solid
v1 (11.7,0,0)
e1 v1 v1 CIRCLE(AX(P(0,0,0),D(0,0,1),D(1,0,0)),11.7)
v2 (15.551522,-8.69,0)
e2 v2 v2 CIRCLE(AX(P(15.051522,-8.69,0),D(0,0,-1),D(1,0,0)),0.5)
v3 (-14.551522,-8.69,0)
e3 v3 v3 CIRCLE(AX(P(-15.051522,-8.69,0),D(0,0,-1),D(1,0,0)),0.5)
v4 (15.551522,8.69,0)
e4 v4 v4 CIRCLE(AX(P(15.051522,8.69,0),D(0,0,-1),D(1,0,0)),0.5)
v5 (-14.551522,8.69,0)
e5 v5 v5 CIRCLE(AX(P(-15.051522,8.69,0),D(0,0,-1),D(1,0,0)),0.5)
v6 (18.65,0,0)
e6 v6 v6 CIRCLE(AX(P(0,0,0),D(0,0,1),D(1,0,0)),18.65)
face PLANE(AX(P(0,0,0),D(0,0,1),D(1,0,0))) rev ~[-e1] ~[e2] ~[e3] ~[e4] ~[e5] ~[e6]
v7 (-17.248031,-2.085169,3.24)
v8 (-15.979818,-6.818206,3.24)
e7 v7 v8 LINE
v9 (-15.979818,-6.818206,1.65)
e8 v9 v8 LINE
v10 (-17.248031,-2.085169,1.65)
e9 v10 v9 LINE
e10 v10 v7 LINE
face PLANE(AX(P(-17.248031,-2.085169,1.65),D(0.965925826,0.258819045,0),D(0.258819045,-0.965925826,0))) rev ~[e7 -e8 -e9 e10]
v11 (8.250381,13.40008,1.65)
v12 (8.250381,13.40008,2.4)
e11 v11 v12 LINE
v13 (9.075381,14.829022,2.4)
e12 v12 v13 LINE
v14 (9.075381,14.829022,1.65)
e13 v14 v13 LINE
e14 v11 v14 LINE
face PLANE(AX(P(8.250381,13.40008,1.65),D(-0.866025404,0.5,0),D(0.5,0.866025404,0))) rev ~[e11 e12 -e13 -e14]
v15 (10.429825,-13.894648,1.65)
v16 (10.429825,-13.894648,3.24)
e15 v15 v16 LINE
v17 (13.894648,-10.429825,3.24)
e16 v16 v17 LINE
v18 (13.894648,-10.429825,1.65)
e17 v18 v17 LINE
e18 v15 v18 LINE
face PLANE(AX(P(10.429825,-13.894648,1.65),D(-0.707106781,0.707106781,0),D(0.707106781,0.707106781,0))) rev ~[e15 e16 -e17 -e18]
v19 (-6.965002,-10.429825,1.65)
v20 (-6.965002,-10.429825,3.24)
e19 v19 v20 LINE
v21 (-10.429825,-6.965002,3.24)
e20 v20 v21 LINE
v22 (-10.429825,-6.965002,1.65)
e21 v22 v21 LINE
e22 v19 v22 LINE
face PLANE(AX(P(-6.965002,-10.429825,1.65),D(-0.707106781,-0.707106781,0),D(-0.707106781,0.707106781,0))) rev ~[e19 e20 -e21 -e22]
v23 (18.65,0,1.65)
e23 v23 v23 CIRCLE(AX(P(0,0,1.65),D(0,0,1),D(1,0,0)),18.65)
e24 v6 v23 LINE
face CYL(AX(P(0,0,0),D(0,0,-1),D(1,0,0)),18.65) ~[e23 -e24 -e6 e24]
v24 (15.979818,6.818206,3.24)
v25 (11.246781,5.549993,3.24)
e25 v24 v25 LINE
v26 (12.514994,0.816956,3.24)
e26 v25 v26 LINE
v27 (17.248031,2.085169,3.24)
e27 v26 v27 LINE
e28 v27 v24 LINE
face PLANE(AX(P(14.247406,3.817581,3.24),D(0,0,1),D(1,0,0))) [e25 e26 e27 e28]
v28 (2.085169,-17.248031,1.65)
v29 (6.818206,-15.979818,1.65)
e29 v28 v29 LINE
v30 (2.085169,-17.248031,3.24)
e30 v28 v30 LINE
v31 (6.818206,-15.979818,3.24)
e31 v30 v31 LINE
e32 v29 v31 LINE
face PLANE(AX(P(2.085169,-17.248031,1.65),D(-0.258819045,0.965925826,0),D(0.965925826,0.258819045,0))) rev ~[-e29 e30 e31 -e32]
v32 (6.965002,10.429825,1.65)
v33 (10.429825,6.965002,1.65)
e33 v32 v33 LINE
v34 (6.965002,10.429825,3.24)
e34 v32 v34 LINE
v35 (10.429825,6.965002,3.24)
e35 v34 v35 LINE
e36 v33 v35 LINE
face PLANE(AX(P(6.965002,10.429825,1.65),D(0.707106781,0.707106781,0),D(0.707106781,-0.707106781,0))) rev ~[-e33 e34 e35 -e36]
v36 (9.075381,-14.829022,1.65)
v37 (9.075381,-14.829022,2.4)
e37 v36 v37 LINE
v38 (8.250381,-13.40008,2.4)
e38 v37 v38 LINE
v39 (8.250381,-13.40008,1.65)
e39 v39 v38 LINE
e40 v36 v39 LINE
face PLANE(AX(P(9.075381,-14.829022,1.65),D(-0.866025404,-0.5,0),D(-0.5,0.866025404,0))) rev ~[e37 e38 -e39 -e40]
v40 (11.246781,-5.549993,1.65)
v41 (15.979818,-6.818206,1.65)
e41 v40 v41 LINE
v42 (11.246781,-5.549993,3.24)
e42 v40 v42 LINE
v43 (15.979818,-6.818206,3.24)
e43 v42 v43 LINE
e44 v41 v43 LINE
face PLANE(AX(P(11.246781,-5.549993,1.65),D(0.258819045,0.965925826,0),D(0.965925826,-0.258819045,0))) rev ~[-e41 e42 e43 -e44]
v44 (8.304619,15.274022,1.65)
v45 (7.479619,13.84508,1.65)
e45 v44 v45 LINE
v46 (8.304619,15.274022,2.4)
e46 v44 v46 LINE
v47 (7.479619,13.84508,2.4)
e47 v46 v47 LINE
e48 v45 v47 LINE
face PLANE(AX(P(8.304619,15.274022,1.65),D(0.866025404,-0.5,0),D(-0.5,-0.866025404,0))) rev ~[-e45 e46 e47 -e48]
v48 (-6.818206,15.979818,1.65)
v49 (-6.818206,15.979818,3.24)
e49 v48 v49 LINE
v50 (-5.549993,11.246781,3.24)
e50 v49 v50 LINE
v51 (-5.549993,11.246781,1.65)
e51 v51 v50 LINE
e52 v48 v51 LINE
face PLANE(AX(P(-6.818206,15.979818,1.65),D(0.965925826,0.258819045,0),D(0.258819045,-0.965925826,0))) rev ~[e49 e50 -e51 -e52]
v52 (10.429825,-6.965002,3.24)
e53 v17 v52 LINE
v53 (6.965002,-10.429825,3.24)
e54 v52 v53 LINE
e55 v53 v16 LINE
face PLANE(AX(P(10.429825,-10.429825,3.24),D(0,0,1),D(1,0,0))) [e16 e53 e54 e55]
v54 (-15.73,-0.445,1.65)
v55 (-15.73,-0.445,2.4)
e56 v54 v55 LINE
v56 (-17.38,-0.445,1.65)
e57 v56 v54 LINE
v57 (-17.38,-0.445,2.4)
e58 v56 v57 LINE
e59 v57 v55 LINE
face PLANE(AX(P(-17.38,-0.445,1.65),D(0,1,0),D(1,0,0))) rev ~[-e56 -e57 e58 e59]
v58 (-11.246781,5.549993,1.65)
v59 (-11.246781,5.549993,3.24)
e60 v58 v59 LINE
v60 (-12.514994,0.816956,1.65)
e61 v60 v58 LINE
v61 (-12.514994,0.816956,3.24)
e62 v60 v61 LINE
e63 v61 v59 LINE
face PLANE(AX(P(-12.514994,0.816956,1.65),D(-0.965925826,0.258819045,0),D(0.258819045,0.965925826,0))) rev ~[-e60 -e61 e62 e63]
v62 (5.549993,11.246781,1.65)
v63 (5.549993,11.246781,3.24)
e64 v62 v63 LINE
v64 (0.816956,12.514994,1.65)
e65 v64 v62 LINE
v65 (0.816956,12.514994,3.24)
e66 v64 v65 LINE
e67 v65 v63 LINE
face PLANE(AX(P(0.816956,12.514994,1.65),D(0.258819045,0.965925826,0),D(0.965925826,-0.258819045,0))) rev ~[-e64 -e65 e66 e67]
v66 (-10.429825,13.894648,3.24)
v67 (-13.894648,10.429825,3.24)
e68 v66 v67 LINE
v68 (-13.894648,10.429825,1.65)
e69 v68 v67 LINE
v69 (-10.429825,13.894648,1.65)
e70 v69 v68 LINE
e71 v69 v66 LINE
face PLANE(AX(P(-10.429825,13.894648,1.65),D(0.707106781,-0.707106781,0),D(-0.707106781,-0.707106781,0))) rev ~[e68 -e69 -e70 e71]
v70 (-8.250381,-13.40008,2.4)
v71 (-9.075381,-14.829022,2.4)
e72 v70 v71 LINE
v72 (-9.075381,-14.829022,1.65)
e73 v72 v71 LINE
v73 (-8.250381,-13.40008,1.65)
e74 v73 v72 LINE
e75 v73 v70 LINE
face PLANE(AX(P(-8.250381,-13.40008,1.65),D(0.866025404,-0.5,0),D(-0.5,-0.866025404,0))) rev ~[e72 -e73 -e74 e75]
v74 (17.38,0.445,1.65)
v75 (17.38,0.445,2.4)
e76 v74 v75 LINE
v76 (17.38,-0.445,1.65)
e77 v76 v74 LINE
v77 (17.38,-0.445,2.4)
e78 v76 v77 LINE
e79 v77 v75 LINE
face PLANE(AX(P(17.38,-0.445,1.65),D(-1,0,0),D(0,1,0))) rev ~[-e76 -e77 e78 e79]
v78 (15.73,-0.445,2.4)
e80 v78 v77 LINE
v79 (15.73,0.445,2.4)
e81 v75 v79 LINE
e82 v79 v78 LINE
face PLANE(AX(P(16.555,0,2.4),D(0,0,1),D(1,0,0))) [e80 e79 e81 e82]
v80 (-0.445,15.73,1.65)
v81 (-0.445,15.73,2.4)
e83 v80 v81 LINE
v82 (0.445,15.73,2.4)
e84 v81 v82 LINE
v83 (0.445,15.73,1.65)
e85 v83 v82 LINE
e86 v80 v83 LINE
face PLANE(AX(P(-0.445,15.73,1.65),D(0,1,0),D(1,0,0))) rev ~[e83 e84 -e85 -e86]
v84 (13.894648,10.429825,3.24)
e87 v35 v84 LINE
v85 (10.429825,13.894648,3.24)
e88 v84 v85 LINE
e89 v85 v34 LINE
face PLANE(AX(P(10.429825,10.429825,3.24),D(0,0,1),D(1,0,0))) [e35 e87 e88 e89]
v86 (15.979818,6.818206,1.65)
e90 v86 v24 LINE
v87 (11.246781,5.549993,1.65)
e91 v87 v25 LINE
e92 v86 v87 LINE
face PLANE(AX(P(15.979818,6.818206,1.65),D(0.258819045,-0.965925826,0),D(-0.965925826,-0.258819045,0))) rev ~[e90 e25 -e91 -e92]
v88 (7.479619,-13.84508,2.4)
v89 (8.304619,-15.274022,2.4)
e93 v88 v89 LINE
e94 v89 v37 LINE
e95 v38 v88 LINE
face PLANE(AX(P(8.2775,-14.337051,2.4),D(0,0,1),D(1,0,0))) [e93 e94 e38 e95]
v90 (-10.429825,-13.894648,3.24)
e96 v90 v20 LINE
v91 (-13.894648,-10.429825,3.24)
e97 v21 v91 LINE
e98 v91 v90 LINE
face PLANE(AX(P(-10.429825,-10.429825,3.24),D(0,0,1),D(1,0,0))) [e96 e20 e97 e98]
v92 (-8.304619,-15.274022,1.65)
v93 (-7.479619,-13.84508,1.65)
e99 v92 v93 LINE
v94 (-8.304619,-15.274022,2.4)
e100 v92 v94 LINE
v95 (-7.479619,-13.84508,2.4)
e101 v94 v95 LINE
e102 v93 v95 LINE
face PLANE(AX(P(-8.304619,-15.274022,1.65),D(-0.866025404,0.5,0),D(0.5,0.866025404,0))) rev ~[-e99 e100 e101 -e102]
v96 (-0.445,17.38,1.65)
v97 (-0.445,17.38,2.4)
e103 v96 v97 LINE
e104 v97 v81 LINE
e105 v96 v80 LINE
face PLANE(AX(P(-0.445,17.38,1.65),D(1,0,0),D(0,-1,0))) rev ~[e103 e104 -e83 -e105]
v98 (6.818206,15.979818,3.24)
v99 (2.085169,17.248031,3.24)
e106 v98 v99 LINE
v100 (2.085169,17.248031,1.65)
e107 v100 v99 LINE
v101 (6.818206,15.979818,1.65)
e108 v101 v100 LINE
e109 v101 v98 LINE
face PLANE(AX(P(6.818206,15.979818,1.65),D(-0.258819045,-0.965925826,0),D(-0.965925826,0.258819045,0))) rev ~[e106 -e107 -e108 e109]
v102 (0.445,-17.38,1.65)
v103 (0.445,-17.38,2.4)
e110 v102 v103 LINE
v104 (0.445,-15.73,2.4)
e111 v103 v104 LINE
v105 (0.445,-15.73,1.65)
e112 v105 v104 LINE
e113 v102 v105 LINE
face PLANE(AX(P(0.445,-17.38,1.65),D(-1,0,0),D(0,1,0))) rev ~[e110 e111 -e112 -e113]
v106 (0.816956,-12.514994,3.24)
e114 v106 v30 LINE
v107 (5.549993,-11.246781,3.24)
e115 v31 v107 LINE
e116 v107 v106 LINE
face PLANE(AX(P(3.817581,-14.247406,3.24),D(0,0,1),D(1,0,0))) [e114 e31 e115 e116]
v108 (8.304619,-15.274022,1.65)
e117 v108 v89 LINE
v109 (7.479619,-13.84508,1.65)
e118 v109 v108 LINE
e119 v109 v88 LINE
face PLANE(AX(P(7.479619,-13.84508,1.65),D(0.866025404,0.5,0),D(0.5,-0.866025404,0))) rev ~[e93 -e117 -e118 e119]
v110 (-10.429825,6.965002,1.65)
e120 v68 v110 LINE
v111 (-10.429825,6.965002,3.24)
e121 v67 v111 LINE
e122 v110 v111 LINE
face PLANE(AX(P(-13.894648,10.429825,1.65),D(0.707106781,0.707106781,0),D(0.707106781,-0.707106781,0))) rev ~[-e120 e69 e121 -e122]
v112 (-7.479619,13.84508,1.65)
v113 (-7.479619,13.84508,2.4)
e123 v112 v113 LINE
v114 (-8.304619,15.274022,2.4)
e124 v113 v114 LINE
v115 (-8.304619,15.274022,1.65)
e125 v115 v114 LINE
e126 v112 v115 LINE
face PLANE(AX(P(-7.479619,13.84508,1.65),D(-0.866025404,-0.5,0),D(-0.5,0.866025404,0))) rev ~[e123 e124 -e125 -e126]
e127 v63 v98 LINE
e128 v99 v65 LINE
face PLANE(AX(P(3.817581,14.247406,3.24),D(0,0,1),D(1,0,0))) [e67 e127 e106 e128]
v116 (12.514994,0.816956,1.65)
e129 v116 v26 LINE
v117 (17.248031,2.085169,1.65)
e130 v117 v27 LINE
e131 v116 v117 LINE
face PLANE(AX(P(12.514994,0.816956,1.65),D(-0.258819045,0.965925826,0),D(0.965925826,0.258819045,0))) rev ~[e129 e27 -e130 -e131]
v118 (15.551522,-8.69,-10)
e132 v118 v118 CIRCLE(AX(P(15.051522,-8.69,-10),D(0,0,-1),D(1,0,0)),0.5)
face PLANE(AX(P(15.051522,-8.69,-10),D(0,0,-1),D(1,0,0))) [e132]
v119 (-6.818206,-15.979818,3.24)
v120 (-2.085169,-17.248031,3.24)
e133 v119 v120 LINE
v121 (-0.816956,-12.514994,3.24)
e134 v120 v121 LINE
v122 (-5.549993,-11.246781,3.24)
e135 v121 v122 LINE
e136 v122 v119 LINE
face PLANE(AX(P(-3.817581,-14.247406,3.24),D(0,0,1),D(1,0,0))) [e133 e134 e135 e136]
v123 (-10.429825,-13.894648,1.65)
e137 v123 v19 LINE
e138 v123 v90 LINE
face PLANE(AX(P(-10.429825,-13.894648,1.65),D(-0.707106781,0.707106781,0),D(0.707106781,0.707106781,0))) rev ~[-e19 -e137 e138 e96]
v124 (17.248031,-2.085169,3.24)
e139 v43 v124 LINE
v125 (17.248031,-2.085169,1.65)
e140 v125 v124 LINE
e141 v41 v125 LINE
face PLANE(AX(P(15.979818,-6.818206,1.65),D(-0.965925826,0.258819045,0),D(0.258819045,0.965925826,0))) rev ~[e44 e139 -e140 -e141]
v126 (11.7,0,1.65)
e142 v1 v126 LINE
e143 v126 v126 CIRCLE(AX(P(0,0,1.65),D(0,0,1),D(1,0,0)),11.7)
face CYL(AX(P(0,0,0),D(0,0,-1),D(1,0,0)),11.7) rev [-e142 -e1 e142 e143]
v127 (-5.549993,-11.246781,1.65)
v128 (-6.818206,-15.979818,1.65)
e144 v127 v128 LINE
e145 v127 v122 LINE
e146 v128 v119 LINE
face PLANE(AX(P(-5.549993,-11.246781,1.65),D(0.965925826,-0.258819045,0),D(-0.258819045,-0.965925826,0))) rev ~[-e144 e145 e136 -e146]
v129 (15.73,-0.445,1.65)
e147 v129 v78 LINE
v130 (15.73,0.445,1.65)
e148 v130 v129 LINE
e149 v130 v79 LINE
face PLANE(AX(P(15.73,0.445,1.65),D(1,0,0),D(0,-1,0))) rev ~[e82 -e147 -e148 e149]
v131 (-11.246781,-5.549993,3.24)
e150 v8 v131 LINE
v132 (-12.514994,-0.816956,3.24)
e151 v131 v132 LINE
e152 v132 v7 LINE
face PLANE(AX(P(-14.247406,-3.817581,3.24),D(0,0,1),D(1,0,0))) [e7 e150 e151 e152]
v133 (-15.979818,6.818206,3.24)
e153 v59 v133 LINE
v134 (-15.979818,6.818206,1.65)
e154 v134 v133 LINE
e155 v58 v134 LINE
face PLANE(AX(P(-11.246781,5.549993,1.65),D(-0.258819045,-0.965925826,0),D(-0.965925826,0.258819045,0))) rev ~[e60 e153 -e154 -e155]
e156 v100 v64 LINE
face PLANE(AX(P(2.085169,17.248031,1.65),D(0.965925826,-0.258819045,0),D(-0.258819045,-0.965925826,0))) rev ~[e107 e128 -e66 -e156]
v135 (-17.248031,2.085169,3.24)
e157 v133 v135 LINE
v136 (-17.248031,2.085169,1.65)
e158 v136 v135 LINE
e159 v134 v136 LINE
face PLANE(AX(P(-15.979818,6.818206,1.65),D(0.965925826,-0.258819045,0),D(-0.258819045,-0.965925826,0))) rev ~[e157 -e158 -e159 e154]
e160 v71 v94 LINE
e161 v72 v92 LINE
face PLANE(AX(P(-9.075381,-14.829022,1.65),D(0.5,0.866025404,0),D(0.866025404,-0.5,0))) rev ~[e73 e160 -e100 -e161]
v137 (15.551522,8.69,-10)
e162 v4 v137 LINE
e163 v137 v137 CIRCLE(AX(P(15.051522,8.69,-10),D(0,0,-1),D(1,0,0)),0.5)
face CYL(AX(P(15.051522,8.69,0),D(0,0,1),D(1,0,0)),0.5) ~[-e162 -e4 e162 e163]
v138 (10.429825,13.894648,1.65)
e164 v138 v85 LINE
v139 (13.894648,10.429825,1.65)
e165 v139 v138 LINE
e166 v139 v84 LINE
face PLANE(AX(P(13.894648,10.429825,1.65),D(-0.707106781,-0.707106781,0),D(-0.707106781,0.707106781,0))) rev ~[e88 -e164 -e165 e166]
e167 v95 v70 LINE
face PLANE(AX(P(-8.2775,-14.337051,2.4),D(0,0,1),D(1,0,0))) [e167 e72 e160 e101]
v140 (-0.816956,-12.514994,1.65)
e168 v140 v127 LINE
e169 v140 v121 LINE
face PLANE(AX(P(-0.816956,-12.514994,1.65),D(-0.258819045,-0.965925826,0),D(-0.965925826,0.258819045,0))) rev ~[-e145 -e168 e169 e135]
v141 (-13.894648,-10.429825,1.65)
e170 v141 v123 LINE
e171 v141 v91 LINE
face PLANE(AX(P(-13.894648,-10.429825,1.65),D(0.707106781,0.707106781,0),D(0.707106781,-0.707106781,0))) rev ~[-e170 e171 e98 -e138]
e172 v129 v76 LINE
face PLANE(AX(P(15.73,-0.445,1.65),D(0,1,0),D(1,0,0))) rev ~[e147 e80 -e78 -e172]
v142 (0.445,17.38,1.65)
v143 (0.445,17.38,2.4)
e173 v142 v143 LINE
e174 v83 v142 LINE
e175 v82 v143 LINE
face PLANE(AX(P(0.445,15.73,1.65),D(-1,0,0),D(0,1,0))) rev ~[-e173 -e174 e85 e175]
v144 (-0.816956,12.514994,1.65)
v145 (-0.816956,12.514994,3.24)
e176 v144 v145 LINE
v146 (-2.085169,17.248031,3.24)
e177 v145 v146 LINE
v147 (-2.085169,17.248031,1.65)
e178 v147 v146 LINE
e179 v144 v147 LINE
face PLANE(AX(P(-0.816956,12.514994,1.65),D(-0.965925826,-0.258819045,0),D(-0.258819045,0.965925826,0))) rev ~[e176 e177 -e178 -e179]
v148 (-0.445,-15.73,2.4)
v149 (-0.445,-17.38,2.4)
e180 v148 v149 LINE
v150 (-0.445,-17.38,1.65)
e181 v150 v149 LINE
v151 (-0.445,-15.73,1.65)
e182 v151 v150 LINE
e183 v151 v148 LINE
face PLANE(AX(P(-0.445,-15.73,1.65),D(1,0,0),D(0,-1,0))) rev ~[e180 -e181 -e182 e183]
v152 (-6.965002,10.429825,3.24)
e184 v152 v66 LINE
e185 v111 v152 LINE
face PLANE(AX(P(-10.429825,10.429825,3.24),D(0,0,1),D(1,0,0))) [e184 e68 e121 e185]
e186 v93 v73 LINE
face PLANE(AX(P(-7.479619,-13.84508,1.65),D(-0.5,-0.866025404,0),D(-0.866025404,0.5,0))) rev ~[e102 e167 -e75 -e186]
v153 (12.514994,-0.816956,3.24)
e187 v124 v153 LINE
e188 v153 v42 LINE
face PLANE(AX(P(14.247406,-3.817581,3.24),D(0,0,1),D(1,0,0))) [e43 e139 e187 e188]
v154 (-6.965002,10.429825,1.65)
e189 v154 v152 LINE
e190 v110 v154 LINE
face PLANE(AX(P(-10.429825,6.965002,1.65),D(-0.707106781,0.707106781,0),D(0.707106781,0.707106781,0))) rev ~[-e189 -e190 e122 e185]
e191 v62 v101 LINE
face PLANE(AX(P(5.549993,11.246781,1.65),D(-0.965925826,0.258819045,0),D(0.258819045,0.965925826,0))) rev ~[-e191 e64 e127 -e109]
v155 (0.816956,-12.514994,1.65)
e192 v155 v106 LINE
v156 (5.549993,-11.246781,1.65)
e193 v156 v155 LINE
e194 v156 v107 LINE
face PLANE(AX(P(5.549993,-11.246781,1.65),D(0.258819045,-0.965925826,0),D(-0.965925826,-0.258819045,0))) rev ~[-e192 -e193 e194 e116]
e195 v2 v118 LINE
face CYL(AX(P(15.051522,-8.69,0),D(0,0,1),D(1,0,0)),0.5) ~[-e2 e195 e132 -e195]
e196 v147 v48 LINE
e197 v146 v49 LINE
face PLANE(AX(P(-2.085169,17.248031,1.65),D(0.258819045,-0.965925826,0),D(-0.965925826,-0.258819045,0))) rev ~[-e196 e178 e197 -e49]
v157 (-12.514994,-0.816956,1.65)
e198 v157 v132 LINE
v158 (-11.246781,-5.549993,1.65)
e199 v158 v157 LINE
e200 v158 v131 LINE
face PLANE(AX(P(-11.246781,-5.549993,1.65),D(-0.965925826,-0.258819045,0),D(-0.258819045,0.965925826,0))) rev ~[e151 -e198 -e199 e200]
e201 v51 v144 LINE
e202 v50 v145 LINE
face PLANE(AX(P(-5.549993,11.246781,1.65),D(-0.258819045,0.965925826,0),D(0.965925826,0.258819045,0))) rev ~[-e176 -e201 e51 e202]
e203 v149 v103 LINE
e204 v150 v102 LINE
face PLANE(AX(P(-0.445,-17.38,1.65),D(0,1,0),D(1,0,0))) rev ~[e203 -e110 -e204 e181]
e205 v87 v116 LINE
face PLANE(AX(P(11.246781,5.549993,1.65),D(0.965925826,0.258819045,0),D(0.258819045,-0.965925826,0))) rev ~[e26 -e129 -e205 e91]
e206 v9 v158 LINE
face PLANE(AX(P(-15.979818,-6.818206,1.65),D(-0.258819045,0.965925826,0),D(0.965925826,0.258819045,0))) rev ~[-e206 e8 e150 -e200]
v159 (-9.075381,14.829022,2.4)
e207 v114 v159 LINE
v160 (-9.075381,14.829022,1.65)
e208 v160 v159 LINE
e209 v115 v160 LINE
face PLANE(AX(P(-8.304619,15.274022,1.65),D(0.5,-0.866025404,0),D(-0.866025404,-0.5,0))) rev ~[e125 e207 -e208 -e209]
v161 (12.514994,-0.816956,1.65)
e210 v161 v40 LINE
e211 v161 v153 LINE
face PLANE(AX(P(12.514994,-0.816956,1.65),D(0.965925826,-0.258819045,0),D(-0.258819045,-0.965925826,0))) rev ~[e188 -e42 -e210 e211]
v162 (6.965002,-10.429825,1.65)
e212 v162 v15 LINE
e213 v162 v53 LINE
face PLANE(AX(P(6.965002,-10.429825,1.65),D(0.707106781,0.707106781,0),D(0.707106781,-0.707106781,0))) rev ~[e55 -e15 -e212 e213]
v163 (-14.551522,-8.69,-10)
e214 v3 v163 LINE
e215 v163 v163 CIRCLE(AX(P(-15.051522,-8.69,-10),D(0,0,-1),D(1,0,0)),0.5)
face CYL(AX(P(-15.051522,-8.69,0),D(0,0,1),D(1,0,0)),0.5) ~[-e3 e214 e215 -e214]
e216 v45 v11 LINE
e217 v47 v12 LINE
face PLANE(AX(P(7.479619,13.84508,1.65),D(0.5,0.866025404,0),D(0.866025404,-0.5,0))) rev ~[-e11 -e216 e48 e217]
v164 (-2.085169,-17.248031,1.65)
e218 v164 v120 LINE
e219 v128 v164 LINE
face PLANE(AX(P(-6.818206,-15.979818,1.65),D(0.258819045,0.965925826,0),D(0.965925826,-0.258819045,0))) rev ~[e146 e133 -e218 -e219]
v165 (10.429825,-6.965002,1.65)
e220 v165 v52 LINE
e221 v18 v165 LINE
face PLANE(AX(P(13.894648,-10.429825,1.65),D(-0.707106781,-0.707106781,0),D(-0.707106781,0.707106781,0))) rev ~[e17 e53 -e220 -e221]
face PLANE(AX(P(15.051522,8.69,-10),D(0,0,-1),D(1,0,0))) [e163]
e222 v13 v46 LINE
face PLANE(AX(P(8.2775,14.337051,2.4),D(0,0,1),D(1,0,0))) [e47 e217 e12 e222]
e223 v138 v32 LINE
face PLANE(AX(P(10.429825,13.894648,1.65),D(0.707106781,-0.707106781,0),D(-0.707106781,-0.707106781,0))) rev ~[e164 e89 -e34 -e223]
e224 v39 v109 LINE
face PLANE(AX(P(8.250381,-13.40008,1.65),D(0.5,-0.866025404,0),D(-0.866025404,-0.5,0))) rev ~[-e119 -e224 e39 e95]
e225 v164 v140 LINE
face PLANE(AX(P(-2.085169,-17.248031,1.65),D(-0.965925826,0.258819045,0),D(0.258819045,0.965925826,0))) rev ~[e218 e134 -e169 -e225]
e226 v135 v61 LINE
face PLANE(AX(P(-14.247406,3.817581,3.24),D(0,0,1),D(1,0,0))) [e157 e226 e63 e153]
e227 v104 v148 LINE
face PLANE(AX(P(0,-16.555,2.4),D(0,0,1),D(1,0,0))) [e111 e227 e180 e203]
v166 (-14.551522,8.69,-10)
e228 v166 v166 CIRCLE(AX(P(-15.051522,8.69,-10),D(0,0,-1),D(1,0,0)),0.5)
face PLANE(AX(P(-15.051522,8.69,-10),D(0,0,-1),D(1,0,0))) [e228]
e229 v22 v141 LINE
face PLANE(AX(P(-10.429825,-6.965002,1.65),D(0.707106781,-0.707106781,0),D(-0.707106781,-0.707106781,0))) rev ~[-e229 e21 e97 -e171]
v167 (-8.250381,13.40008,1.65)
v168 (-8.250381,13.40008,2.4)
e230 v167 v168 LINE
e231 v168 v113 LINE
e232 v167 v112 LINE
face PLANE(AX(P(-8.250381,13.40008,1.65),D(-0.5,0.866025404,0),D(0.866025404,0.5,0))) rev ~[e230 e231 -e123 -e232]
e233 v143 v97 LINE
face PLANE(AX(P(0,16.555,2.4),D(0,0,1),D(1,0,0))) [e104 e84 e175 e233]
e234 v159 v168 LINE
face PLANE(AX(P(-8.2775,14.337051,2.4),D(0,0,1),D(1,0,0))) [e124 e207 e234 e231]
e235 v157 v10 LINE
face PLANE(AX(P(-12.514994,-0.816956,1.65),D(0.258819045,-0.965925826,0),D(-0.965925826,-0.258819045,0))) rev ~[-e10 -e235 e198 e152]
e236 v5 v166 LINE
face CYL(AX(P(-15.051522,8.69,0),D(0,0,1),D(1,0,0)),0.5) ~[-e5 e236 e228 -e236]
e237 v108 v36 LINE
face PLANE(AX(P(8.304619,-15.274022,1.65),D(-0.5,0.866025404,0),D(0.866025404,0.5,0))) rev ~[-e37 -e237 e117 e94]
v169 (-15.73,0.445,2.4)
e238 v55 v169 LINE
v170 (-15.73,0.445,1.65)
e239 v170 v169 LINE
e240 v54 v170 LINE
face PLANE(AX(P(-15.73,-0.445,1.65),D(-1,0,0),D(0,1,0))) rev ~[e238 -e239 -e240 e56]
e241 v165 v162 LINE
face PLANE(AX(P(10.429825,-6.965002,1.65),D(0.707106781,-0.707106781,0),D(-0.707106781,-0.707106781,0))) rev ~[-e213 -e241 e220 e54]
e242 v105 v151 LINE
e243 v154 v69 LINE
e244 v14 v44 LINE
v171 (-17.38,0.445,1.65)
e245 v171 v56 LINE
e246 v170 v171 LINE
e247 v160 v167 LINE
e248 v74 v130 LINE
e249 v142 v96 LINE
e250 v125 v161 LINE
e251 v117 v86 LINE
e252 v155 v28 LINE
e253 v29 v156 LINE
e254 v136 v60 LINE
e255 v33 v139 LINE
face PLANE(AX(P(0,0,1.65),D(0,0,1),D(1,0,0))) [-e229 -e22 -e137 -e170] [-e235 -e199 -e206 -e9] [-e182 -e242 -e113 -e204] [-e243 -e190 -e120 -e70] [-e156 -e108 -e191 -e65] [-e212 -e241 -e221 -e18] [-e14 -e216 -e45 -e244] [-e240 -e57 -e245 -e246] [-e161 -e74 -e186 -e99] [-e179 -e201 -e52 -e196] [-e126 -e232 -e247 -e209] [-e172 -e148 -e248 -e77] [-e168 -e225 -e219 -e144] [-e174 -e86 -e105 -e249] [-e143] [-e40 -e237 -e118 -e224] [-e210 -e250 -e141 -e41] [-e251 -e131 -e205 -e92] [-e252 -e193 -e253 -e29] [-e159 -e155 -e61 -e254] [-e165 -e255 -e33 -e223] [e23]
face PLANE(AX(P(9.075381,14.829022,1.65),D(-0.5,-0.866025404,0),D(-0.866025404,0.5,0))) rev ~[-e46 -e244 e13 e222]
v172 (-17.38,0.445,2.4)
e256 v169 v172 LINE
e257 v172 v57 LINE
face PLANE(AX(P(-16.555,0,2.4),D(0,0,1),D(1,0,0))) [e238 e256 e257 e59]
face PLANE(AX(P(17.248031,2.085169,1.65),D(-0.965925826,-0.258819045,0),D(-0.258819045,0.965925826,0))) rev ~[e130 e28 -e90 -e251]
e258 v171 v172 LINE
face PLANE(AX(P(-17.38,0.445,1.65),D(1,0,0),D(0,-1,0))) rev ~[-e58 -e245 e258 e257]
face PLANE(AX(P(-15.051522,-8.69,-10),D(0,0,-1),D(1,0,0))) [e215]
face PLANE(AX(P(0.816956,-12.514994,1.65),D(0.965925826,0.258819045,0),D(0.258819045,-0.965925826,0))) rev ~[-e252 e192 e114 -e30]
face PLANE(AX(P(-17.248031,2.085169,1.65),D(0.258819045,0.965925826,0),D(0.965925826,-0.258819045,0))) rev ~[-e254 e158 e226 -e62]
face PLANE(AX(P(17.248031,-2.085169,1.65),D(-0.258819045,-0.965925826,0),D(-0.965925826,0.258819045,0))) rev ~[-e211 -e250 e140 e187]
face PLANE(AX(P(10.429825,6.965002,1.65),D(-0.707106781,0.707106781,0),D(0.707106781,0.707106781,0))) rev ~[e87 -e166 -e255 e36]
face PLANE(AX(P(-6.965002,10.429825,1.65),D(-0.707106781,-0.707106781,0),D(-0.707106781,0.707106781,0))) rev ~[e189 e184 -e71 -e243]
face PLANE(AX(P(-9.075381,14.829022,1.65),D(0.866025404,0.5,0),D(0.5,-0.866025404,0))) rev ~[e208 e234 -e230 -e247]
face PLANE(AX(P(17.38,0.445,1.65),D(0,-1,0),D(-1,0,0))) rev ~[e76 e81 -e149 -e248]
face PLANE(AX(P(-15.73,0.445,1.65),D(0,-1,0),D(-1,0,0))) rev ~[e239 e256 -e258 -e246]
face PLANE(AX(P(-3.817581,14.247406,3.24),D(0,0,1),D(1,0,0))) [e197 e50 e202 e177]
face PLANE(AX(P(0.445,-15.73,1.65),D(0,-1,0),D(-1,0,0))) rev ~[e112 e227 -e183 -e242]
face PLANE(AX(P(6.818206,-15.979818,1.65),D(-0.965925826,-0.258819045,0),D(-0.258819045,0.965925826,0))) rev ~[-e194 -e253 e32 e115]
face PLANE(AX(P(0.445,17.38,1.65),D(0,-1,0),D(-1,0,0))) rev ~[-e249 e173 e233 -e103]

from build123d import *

# Parameters (mm, degrees)
F0_R     = 18.65
F0_R_2   = 11.7
F1_DEPTH = 1.65
F3_DEPTH = 1.59
F5_DEPTH = 0.75
F6_R     = 0.5
F7_DEPTH = 10


with BuildPart() as f1:
    # F0 (on Top) → F1 (new body)
    with BuildSketch(Plane.XY):
        Circle(F0_R)
        Circle(F0_R_2, mode=Mode.SUBTRACT)
    extrude(amount=F1_DEPTH)

    # F2 (on face) → F3 (join)
    with BuildSketch(Plane.XY.offset(1.65)):
        Polygon((6.8182058502, 15.9798175517), (4.4516875758, 16.6139242122), (2.0851693014, 17.2480308727), (0.8169559804, 12.5149943239), (3.1834742548, 11.8808876634), (5.5499925292, 11.2467810029), align=None)
        Polygon((-6.8182058502, 15.9798175517), (-5.5499925292, 11.2467810029), (-3.1834742548, 11.8808876634), (-0.8169559804, 12.5149943239), (-2.0851693014, 17.2480308727), (-4.4516875758, 16.6139242122), align=None)
        Polygon((-13.8946482503, 10.4298250225), (-10.4298250225, 6.9650017947), (-8.6974134086, 8.6974134086), (-6.9650017947, 10.4298250225), (-10.4298250225, 13.8946482503), (-12.1622366364, 12.1622366364), align=None)
        Polygon((-17.2480308727, 2.0851693014), (-12.5149943239, 0.8169559804), (-11.8808876634, 3.1834742548), (-11.2467810029, 5.5499925292), (-15.9798175517, 6.8182058502), (-16.6139242122, 4.4516875758), align=None)
        Polygon((-15.9798175517, -6.8182058502), (-11.2467810029, -5.5499925292), (-11.8808876634, -3.1834742548), (-12.5149943239, -0.8169559804), (-17.2480308727, -2.0851693014), (-16.6139242122, -4.4516875758), align=None)
        Polygon((-10.4298250225, -13.8946482503), (-6.9650017947, -10.4298250225), (-8.6974134086, -8.6974134086), (-10.4298250225, -6.9650017947), (-13.8946482503, -10.4298250225), (-12.1622366364, -12.1622366364), align=None)
        Polygon((-2.0851693014, -17.2480308727), (-0.8169559804, -12.5149943239), (-3.1834742548, -11.8808876634), (-5.5499925292, -11.2467810029), (-6.8182058502, -15.9798175517), (-4.4516875758, -16.6139242122), align=None)
        Polygon((6.8182058502, -15.9798175517), (5.5499925292, -11.2467810029), (3.1834742548, -11.8808876634), (0.8169559804, -12.5149943239), (2.0851693014, -17.2480308727), (4.4516875758, -16.6139242122), align=None)
        Polygon((13.8946482503, -10.4298250225), (10.4298250225, -6.9650017947), (8.6974134086, -8.6974134086), (6.9650017947, -10.4298250225), (10.4298250225, -13.8946482503), (12.1622366364, -12.1622366364), align=None)
        Polygon((17.2480308727, -2.0851693014), (12.5149943239, -0.8169559804), (11.8808876634, -3.1834742548), (11.2467810029, -5.5499925292), (15.9798175517, -6.8182058502), (16.6139242122, -4.4516875758), align=None)
        Polygon((15.9798175517, 6.8182058502), (11.2467810029, 5.5499925292), (11.8808876634, 3.1834742548), (12.5149943239, 0.8169559804), (17.2480308727, 2.0851693014), (16.6139242122, 4.4516875758), align=None)
        Polygon((10.4298250225, 13.8946482503), (6.9650017947, 10.4298250225), (8.6974134086, 8.6974134086), (10.4298250225, 6.9650017947), (13.8946482503, 10.4298250225), (12.1622366364, 12.1622366364), align=None)
    extrude(amount=F3_DEPTH)

    # F4 (on face) → F5 (join)
    with BuildSketch(Plane.XY.offset(1.65)):
        Polygon((0.445, 17.38), (0, 17.38), (-0.445, 17.38), (-0.445, 15.73), (0, 15.73), (0.445, 15.73), align=None)
        Polygon((9.0753813047, 14.8290215178), (8.69, 15.0515215178), (8.3046186953, 15.2740215178), (7.4796186953, 13.8450796015), (7.865, 13.6225796015), (8.2503813047, 13.4000796015), align=None)
        Polygon((17.38, 0), (17.38, 0.445), (15.73, 0.445), (15.73, 0), (15.73, -0.445), (17.38, -0.445), align=None)
        Polygon((-15.73, 0.445), (-17.38, 0.445), (-17.38, 0), (-17.38, -0.445), (-15.73, -0.445), (-15.73, 0), align=None)
        Polygon((-7.4796186953, 13.8450796015), (-8.3046186953, 15.2740215178), (-8.69, 15.0515215178), (-9.0753813047, 14.8290215178), (-8.2503813047, 13.4000796015), (-7.865, 13.6225796015), align=None)
        Polygon((-8.2503813047, -13.4000796015), (-9.0753813047, -14.8290215178), (-8.69, -15.0515215178), (-8.3046186953, -15.2740215178), (-7.4796186953, -13.8450796015), (-7.865, -13.6225796015), align=None)
        Polygon((-0.445, -17.38), (0, -17.38), (0.445, -17.38), (0.445, -15.73), (0, -15.73), (-0.445, -15.73), align=None)
        Polygon((8.3046186953, -15.2740215178), (8.69, -15.0515215178), (9.0753813047, -14.8290215178), (8.2503813047, -13.4000796015), (7.865, -13.6225796015), (7.4796186953, -13.8450796015), align=None)
    extrude(amount=F5_DEPTH)

    # F6 (on face) → F7 (join)
    with BuildSketch(Plane(origin=(0, 0, 0), x_dir=(1, 0, 0), z_dir=(0, 0, -1))):
        with Locations((-15.0515215178, 8.69)):
            Circle(F6_R)
        with Locations((-15.0515215178, -8.69)):
            Circle(F6_R)
        with Locations((15.0515215178, -8.69)):
            Circle(F6_R)
        with Locations((15.0515215178, 8.69)):
            Circle(F6_R)
    extrude(amount=F7_DEPTH)


solid = f1.part
